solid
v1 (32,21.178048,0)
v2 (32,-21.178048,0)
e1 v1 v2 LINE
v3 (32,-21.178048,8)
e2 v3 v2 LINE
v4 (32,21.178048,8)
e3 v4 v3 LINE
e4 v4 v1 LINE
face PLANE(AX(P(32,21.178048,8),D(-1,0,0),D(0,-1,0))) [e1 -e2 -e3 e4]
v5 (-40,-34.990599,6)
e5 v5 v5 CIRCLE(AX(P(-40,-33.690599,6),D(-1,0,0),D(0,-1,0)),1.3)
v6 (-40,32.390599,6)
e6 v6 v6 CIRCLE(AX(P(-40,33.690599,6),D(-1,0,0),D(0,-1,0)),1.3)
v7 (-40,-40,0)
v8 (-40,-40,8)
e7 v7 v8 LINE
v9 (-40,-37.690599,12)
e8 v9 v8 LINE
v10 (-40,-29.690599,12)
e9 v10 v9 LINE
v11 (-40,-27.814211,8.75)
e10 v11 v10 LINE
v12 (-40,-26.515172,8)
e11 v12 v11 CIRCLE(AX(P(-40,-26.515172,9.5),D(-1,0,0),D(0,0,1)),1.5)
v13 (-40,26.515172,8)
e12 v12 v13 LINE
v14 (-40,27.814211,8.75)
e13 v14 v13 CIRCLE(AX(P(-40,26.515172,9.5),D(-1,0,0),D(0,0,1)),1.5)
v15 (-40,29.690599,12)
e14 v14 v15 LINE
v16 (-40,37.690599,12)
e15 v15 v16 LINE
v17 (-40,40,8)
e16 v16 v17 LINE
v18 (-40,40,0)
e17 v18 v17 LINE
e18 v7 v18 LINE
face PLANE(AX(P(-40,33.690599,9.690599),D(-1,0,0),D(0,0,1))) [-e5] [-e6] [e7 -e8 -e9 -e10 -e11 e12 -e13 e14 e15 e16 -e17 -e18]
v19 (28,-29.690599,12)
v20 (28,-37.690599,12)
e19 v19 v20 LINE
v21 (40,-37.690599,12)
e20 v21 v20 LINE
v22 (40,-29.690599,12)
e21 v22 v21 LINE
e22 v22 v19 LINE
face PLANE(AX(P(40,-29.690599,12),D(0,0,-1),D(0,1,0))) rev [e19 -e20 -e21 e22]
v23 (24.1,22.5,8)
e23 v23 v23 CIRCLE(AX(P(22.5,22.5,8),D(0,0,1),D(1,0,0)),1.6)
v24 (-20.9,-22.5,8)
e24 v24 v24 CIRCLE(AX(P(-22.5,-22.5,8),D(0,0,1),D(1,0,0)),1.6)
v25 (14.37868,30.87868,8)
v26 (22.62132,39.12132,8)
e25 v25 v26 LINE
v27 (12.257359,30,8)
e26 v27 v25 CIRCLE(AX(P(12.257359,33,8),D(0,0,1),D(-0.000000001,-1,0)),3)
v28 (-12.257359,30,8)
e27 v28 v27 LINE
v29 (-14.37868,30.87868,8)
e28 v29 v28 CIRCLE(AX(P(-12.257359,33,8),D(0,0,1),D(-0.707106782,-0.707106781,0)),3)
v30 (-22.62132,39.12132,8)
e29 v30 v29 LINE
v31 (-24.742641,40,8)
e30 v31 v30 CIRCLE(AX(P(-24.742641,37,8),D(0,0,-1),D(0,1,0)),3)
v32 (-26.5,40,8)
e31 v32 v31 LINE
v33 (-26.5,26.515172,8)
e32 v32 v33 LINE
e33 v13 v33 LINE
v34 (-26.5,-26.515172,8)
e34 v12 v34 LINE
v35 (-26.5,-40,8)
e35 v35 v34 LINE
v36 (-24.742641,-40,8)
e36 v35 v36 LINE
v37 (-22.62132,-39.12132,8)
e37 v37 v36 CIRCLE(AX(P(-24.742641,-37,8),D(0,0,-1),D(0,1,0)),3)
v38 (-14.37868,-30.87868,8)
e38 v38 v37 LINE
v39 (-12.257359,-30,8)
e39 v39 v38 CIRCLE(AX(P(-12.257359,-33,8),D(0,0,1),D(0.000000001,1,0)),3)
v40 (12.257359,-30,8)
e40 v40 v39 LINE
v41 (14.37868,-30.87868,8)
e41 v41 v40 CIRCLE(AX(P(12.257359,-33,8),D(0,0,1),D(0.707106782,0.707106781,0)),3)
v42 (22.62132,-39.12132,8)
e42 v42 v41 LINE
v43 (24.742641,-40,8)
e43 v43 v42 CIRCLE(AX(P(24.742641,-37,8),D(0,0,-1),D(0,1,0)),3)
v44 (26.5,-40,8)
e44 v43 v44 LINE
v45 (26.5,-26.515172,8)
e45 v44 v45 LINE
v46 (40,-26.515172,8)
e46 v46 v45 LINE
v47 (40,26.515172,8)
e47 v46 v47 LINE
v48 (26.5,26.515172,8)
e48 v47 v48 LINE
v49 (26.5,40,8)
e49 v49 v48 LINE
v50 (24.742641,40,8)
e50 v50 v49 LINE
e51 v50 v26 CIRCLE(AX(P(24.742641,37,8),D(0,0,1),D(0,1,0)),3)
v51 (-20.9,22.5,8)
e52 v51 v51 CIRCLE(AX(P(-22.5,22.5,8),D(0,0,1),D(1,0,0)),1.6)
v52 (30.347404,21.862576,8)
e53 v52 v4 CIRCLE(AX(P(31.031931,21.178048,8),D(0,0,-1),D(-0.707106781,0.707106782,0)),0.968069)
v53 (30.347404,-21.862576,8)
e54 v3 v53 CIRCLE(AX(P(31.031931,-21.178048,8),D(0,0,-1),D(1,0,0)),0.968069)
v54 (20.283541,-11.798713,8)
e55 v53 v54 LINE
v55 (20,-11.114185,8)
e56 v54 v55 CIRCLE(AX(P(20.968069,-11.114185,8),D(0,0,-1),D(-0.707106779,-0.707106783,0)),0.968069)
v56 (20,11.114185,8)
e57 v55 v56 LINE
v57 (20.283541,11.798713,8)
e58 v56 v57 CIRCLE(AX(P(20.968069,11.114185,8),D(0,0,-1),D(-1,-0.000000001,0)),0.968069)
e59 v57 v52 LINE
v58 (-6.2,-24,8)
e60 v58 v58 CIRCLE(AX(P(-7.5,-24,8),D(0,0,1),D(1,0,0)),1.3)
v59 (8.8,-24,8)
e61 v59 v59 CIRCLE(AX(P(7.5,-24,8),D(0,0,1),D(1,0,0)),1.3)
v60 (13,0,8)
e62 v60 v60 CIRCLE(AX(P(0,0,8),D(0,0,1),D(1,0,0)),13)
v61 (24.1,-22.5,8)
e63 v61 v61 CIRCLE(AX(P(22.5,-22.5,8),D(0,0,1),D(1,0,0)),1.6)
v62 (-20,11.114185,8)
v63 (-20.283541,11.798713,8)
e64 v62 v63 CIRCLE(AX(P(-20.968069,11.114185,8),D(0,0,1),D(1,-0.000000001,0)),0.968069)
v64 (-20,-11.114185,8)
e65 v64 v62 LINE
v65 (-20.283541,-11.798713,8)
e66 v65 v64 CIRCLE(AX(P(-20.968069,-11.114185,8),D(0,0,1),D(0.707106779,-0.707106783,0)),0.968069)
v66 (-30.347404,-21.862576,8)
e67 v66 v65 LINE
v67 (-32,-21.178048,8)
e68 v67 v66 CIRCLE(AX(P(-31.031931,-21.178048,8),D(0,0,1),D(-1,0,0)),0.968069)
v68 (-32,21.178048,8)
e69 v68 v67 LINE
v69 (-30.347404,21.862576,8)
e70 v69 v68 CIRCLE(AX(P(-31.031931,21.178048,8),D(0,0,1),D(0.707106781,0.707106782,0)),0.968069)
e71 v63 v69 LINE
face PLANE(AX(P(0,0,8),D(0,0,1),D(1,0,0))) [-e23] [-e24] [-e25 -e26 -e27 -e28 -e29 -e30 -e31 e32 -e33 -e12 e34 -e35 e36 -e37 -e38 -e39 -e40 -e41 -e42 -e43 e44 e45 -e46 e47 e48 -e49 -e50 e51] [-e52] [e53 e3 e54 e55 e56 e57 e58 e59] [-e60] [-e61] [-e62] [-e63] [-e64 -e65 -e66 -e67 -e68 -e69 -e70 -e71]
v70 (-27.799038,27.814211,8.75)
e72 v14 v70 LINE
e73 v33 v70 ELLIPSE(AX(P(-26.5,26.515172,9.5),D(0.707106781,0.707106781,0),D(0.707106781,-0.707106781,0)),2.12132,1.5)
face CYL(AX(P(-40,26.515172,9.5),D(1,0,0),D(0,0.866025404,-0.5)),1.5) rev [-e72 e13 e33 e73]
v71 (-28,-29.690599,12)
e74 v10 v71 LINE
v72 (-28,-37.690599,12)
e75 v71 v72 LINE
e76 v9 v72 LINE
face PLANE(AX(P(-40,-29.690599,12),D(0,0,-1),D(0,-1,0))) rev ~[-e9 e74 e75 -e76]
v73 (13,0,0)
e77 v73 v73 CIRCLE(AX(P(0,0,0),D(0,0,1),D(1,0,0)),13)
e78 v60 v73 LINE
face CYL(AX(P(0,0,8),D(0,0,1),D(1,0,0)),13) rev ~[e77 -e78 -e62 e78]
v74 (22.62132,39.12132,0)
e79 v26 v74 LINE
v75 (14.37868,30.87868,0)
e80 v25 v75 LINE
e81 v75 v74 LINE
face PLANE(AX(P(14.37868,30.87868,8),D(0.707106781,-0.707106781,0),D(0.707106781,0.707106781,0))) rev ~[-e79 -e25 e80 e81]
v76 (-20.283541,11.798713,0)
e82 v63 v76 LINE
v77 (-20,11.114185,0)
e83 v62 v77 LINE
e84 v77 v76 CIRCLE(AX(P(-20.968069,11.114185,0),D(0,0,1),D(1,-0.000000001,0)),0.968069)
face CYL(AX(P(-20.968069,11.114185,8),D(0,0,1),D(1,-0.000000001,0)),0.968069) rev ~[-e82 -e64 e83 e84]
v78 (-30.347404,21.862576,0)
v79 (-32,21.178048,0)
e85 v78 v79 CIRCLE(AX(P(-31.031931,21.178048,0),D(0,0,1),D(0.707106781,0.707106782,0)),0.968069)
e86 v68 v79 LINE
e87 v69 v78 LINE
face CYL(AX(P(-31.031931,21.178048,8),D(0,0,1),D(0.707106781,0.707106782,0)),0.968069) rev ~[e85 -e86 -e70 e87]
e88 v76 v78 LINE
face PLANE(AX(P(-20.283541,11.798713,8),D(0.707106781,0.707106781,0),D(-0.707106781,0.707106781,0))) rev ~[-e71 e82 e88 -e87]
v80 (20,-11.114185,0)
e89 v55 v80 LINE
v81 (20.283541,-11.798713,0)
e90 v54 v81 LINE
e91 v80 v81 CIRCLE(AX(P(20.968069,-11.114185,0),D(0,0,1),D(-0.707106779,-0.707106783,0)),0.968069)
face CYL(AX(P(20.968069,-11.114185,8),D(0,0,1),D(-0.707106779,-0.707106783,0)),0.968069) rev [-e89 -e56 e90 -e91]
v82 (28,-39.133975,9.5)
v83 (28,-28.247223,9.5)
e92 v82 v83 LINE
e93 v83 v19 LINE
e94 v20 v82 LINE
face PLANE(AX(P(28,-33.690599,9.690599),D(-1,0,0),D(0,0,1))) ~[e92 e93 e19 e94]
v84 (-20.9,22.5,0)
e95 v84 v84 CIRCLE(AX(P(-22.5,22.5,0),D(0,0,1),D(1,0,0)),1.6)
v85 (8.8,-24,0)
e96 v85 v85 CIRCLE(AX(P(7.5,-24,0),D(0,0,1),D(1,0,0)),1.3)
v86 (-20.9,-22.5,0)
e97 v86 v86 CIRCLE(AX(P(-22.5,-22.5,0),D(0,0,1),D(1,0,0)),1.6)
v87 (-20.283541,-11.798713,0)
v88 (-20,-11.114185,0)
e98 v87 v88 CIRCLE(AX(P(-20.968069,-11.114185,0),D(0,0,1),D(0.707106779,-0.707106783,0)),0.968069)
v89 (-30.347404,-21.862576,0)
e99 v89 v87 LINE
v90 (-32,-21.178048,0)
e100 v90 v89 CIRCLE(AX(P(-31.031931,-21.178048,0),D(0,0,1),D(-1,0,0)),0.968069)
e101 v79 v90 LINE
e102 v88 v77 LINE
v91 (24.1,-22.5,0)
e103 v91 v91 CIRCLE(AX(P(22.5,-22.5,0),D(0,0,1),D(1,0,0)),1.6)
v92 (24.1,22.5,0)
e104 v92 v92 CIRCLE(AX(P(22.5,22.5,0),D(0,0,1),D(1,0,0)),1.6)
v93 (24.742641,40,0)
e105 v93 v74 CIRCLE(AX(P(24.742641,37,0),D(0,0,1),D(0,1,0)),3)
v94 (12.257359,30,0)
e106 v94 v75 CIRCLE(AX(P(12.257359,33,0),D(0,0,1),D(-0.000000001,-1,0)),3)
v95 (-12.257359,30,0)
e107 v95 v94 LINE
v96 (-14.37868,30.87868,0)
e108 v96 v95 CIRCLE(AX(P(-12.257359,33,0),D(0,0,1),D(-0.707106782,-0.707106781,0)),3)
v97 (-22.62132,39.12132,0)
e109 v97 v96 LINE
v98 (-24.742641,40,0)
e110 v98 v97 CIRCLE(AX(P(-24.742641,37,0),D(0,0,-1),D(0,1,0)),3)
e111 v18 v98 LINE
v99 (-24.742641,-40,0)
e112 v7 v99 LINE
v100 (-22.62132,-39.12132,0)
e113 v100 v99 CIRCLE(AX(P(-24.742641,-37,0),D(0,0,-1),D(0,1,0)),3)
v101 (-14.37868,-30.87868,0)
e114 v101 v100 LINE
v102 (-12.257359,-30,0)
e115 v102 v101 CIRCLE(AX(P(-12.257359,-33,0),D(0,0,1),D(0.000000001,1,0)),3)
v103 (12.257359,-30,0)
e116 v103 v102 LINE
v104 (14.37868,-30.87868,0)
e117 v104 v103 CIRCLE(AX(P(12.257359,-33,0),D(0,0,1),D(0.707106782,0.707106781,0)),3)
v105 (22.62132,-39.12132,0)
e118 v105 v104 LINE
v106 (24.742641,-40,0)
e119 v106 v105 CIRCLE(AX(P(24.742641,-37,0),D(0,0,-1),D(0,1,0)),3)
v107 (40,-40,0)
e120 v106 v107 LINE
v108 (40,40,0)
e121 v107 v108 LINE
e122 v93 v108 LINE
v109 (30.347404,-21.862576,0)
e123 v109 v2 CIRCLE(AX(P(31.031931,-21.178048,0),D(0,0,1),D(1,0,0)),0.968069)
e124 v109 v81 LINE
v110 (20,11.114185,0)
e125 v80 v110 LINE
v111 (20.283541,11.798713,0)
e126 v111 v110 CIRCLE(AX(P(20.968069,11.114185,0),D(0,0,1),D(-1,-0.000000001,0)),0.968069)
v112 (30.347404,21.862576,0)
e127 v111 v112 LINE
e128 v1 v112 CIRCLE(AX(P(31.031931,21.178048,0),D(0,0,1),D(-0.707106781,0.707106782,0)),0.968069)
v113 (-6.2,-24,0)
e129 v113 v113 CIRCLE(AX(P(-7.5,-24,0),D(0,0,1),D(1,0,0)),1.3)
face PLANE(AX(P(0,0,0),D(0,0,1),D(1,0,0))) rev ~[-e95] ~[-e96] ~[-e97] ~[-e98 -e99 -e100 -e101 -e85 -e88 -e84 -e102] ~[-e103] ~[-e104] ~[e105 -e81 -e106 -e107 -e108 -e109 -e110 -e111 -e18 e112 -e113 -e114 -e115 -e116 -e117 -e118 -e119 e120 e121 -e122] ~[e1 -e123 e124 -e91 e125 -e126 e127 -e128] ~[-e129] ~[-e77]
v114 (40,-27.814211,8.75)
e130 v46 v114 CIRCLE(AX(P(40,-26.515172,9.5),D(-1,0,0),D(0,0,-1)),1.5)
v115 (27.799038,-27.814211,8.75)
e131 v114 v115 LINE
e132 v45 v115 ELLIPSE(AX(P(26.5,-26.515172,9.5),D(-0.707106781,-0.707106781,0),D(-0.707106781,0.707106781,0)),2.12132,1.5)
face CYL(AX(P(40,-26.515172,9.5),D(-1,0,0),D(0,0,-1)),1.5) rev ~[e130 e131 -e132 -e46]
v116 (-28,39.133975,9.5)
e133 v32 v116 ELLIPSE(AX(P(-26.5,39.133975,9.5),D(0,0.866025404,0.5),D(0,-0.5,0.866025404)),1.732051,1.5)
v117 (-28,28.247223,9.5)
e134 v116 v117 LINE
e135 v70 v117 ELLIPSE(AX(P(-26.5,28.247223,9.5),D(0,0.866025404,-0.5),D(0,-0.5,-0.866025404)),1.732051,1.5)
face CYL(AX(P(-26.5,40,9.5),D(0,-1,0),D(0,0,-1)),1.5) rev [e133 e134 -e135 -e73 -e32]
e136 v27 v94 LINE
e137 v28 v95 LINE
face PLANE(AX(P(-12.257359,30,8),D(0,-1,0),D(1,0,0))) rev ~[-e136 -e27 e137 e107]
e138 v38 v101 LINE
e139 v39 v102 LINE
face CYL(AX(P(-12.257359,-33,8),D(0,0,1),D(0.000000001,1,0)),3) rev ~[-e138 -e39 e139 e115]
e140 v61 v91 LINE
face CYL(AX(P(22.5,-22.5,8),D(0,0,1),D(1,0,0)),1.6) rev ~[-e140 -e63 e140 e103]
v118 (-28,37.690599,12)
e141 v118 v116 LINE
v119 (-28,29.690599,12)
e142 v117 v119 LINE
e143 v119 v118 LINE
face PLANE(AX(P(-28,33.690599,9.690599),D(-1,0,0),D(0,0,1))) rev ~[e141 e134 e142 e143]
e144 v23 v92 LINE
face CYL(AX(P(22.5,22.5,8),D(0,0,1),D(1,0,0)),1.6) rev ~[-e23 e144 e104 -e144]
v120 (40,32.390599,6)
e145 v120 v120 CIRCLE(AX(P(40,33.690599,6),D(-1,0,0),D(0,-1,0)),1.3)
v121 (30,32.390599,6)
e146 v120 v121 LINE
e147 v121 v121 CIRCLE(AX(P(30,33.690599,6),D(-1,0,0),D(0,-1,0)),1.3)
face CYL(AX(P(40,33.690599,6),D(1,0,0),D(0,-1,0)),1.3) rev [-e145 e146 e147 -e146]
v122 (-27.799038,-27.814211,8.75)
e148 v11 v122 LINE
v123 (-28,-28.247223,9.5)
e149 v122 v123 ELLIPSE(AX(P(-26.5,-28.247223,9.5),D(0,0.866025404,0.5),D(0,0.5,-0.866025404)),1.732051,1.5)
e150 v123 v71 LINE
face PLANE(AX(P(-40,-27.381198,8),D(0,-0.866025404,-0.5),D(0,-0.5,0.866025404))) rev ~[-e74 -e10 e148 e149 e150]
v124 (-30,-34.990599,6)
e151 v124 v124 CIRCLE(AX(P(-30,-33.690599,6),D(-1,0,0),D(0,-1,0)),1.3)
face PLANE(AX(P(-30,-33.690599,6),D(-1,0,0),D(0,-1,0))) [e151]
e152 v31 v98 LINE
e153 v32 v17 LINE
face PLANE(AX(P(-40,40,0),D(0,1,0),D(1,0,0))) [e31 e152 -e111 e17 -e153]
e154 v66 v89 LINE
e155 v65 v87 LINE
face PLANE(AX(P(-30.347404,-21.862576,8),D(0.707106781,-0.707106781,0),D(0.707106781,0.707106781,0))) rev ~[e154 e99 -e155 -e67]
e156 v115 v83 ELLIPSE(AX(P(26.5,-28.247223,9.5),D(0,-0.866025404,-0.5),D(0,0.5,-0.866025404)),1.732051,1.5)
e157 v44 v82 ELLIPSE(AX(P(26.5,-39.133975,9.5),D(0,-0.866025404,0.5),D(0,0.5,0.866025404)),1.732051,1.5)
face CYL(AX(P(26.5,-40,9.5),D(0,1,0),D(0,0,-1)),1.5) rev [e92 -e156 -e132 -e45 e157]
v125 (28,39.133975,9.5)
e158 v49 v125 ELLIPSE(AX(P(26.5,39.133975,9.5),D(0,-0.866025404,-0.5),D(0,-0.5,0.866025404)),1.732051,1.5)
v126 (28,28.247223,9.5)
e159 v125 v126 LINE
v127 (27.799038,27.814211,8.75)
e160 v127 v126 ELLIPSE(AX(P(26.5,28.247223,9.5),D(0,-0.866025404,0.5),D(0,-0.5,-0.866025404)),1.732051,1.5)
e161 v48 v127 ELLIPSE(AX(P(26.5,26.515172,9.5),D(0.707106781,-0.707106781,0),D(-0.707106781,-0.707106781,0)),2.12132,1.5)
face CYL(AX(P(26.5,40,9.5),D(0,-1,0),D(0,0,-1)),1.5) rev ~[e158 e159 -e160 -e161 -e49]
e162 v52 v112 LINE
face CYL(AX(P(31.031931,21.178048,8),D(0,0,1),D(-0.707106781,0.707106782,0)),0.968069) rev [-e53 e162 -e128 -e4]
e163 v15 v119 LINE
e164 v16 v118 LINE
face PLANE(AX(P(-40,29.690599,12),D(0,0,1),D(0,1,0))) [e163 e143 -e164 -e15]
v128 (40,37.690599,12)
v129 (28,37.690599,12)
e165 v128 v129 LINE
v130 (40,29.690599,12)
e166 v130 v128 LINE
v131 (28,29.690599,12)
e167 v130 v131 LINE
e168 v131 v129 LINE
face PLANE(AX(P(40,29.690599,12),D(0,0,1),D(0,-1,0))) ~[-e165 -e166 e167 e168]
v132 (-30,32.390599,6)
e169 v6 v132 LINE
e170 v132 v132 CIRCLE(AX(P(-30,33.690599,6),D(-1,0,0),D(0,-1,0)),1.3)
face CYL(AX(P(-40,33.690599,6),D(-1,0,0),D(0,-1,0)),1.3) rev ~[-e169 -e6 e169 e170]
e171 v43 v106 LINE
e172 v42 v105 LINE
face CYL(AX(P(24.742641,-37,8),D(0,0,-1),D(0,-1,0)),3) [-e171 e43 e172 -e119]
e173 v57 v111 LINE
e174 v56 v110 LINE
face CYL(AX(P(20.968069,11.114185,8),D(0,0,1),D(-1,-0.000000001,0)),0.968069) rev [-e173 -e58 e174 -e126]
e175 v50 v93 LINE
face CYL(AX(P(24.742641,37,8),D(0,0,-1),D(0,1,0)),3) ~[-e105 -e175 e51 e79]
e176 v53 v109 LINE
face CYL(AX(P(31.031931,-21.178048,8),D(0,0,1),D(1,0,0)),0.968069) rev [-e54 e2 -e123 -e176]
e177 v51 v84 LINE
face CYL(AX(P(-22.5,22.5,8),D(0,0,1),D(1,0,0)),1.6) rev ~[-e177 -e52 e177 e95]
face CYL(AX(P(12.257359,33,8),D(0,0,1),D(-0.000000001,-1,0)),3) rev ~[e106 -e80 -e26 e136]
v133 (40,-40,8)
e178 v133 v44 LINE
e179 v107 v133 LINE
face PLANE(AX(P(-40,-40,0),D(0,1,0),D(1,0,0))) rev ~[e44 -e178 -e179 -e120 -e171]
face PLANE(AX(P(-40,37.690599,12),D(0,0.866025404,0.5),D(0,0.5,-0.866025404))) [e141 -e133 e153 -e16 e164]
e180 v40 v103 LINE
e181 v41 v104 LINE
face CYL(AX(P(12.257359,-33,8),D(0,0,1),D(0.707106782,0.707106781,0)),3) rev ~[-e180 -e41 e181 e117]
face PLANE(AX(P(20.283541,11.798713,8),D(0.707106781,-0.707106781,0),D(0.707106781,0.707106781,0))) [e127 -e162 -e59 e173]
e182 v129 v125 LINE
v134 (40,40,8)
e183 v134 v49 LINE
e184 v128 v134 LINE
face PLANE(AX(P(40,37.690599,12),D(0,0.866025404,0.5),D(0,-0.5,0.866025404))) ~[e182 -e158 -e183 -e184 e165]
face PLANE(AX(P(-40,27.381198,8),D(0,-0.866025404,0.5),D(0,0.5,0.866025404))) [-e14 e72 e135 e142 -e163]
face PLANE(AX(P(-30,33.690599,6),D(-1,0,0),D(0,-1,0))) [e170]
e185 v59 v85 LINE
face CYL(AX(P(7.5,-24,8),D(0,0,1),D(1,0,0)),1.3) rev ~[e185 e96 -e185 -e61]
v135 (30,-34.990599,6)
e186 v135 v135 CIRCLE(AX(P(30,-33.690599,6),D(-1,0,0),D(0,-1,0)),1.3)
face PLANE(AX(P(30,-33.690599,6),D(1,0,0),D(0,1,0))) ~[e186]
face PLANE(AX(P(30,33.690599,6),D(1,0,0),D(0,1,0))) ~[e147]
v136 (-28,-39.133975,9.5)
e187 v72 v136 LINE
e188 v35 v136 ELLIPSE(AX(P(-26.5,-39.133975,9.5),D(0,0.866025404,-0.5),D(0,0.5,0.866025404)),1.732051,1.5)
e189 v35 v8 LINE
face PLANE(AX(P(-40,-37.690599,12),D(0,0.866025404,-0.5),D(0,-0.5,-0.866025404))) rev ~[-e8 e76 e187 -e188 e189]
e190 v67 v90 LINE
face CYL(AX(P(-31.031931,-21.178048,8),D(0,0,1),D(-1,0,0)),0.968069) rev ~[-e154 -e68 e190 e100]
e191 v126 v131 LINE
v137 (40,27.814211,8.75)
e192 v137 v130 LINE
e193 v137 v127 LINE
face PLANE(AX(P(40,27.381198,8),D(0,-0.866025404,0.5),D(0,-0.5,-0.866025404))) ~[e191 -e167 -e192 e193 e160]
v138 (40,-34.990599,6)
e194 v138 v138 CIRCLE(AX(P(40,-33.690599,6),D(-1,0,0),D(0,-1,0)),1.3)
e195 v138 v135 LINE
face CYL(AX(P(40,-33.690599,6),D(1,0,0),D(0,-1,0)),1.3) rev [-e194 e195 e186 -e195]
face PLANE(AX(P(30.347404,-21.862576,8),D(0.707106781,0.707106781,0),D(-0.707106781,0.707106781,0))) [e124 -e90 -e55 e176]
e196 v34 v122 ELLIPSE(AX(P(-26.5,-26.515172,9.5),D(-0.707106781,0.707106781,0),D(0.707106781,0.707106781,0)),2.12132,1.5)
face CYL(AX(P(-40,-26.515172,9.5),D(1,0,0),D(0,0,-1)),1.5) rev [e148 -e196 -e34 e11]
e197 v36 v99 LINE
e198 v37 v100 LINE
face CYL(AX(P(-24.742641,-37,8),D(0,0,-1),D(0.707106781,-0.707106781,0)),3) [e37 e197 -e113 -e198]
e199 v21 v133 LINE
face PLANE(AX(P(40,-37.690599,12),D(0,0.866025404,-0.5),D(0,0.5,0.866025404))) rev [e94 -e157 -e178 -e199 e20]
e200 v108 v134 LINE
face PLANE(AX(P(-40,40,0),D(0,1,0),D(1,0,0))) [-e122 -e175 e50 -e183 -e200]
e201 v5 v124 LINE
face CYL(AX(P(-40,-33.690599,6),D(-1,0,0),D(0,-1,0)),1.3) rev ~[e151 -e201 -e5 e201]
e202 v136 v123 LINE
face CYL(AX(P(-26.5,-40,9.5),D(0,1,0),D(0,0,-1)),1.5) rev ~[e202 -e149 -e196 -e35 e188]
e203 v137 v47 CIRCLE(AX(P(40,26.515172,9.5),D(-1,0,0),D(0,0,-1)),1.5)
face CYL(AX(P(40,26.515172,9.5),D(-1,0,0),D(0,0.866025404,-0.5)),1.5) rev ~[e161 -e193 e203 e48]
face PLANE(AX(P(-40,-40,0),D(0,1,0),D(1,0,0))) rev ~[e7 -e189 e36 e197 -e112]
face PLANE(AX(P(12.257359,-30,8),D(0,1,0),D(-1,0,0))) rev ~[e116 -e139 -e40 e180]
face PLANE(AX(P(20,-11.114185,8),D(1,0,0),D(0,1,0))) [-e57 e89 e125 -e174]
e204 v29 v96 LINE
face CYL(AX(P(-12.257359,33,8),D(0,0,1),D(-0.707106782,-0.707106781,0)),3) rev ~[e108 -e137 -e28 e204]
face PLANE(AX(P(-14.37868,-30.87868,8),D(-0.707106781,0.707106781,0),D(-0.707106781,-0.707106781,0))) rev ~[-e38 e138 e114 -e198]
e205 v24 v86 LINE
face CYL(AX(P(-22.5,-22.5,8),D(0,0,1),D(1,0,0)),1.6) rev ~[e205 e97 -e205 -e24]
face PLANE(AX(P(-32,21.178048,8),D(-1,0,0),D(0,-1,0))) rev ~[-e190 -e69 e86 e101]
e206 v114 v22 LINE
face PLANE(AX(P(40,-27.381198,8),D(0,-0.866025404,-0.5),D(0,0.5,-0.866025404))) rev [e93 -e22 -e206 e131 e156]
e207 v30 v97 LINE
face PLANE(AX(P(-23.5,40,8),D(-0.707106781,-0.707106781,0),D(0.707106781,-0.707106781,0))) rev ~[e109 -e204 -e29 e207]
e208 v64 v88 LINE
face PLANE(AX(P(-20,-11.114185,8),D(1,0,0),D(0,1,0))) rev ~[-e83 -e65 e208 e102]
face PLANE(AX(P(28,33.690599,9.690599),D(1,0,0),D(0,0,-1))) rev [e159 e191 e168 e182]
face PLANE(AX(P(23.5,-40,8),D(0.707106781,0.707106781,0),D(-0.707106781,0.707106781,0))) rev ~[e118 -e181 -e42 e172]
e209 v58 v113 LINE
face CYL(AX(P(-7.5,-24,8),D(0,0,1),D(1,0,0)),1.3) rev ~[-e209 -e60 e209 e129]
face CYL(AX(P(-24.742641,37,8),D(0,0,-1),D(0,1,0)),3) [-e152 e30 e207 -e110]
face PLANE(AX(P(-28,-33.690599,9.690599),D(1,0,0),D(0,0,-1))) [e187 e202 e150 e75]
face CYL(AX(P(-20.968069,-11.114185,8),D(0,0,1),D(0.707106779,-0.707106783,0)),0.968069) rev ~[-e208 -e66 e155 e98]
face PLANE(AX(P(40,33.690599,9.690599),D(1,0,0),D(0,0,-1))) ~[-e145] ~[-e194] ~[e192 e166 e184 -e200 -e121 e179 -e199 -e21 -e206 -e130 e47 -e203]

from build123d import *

# Parameters (mm, degrees)
SKETCH_1_W             = 80
SKETCH_1_H             = 80
EXTRUDE_1_DEPTH        = 8
SKETCH_6_R             = 13
CUT_EXTRUDE_3_DEPTH    = 50
EXTRUDE_2_DEPTH        = 12
FILLET_1_R             = 1.5
FILLET_1_OF_MIRROR_1_R = 1.5
SKETCH_8_R             = 1.3
CUT_EXTRUDE_4_DEPTH    = 10
SKETCH_9_R             = 1.3
CUT_EXTRUDE_5_DEPTH    = 10
SKETCH_10_R            = 1.6
CUT_EXTRUDE_6_DEPTH    = 10
CUT_EXTRUDE_7_DEPTH    = 10
FILLET_2_R             = 3


with BuildPart() as part:
    # 草图1 → 凸台-拉伸1 (new body)
    with BuildSketch(Plane.XY):
        Rectangle(SKETCH_1_W, SKETCH_1_H)
    extrude(amount=EXTRUDE_1_DEPTH)

    # 草图6 → 切除-拉伸3 (cut)
    with BuildSketch(Plane.XY.offset(8)):
        Circle(SKETCH_6_R)
    extrude(amount=-CUT_EXTRUDE_3_DEPTH, mode=Mode.SUBTRACT)

    # 草图7 → 凸台-拉伸2 (add)
    with BuildSketch(Plane.ZY.offset(40)):
        Polygon((8, 40), (8, 27.381197846), (12, 29.690598923), (12, 37.690598923), align=None)
        Polygon((12, -37.690598923), (8, -40), (8, -27.381197846), (12, -29.690598923), align=None)
    extrude_2 = extrude(amount=-EXTRUDE_2_DEPTH)

    # 圆角1
    fillet_1_edges = [part.edges().sort_by_distance(p)[0] for p in [
        (-28, 33.690598923, 8),
        (-34, 27.381197846, 8),
        (-28, -33.690598923, 8),
        (-34, -27.381197846, 8),
    ]]
    fillet(fillet_1_edges, radius=FILLET_1_R)

    # 镜向1: 凸台-拉伸2 across plane
    add(extrude_2.mirror(Plane(origin=(0, 0, 0), x_dir=(0, 0, 1), z_dir=(1, 0, 0))))

    # 圆角1 of 镜向1
    fillet_1_of_mirror_1_edges = [part.edges().sort_by_distance(p)[0] for p in [
        (28, 33.690598923, 8),
        (34, 27.381197846, 8),
        (28, -33.690598923, 8),
        (34, -27.381197846, 8),
    ]]
    fillet(fillet_1_of_mirror_1_edges, radius=FILLET_1_OF_MIRROR_1_R)

    # 草图8 → 切除-拉伸4 (cut)
    with BuildSketch(Plane.ZY.offset(40)):
        with Locations(Location((6, 33.690598923, 0), (0, 0, 270))):
            Circle(SKETCH_8_R)
        with Locations(Location((6, -33.690598923, 0), (0, 0, 270))):
            Circle(SKETCH_8_R)
    cut_extrude_4 = extrude(amount=-CUT_EXTRUDE_4_DEPTH, mode=Mode.SUBTRACT)

    # 镜向2: 切除-拉伸4 across plane
    add(cut_extrude_4.mirror(Plane(origin=(0, 0, 0), x_dir=(0, 0, 1), z_dir=(1, 0, 0))), mode=Mode.SUBTRACT)

    # 草图9 → 切除-拉伸5 (cut)
    with BuildSketch(Plane.XY.offset(8)):
        with Locations((7.5, -24)):
            Circle(SKETCH_9_R)
        with Locations((-7.5, -24)):
            Circle(SKETCH_9_R)
    extrude(amount=-CUT_EXTRUDE_5_DEPTH, mode=Mode.SUBTRACT)

    # 草图10 → 切除-拉伸6 (cut)
    with BuildSketch(Plane.XY.offset(8)):
        with Locations((22.5, -22.5)):
            Circle(SKETCH_10_R)
        with Locations((-22.5, -22.5)):
            Circle(SKETCH_10_R)
        with Locations((22.5, 22.5)):
            Circle(SKETCH_10_R)
        with Locations((-22.5, 22.5)):
            Circle(SKETCH_10_R)
    extrude(amount=-CUT_EXTRUDE_6_DEPTH, mode=Mode.SUBTRACT)

    # 草图11 → 切除-拉伸7 (cut)
    with BuildSketch(Plane.XY.offset(8)):
        with BuildLine():
            Line((-23.5, 40), (-14.378679656, 30.878679656))
            ThreePointArc((-14.378679656, 30.878679656), (-13.40540961, 30.228361402), (-12.257359313, 30))
            Line((-12.257359313, 30), (12.257359313, 30))
            ThreePointArc((12.257359313, 30), (13.40540961, 30.228361402), (14.378679656, 30.878679656))
            Line((14.378679656, 30.878679656), (23.5, 40))
            Line((23.5, 40), (-23.5, 40))
        make_face()
        with BuildLine():
            Line((-32, 21.178048171), (-32, -21.178048171))
            ThreePointArc((-32, -21.178048171), (-31.402395233, -22.072426909), (-30.347403579, -21.862576022))
            Line((-30.347403579, -21.862576022), (-20.28354072, -11.798713162))
            ThreePointArc((-20.28354072, -11.798713162), (-20.073689832, -11.484649115), (-20, -11.114185312))
            Line((-20, -11.114185312), (-20, 11.114185312))
            ThreePointArc((-20, 11.114185312), (-20.073689832, 11.484649115), (-20.28354072, 11.798713162))
            Line((-20.28354072, 11.798713162), (-30.347403579, 21.862576022))
            ThreePointArc((-30.347403579, 21.862576022), (-31.402395233, 22.072426909), (-32, 21.178048171))
        make_face()
        with BuildLine():
            Line((-23.5, -40), (23.5, -40))
            Line((23.5, -40), (14.378679656, -30.878679656))
            ThreePointArc((14.378679656, -30.878679656), (13.40540961, -30.228361402), (12.257359313, -30))
            Line((12.257359313, -30), (-12.257359313, -30))
            ThreePointArc((-12.257359313, -30), (-13.40540961, -30.228361402), (-14.378679656, -30.878679656))
            Line((-14.378679656, -30.878679656), (-23.5, -40))
        make_face()
        with BuildLine():
            Line((20.28354072, 11.798713162), (30.347403579, 21.862576022))
            ThreePointArc((30.347403579, 21.862576022), (31.402395233, 22.072426909), (32, 21.178048171))
            Line((32, 21.178048171), (32, -21.178048171))
            ThreePointArc((32, -21.178048171), (31.402395233, -22.072426909), (30.347403579, -21.862576022))
            Line((30.347403579, -21.862576022), (20.28354072, -11.798713162))
            ThreePointArc((20.28354072, -11.798713162), (20.073689832, -11.484649115), (20, -11.114185312))
            Line((20, -11.114185312), (20, 11.114185312))
            ThreePointArc((20, 11.114185312), (20.073689832, 11.484649115), (20.28354072, 11.798713162))
        make_face()
    extrude(amount=-CUT_EXTRUDE_7_DEPTH, mode=Mode.SUBTRACT)

    # 圆角2
    fillet_2_edges = [part.edges().sort_by_distance(p)[0] for p in [
        (-23.5, 40, 4),
        (23.5, 40, 4),
        (-23.5, -40, 4),
        (23.5, -40, 4),
    ]]
    fillet(fillet_2_edges, radius=FILLET_2_R)


solid = part.part
